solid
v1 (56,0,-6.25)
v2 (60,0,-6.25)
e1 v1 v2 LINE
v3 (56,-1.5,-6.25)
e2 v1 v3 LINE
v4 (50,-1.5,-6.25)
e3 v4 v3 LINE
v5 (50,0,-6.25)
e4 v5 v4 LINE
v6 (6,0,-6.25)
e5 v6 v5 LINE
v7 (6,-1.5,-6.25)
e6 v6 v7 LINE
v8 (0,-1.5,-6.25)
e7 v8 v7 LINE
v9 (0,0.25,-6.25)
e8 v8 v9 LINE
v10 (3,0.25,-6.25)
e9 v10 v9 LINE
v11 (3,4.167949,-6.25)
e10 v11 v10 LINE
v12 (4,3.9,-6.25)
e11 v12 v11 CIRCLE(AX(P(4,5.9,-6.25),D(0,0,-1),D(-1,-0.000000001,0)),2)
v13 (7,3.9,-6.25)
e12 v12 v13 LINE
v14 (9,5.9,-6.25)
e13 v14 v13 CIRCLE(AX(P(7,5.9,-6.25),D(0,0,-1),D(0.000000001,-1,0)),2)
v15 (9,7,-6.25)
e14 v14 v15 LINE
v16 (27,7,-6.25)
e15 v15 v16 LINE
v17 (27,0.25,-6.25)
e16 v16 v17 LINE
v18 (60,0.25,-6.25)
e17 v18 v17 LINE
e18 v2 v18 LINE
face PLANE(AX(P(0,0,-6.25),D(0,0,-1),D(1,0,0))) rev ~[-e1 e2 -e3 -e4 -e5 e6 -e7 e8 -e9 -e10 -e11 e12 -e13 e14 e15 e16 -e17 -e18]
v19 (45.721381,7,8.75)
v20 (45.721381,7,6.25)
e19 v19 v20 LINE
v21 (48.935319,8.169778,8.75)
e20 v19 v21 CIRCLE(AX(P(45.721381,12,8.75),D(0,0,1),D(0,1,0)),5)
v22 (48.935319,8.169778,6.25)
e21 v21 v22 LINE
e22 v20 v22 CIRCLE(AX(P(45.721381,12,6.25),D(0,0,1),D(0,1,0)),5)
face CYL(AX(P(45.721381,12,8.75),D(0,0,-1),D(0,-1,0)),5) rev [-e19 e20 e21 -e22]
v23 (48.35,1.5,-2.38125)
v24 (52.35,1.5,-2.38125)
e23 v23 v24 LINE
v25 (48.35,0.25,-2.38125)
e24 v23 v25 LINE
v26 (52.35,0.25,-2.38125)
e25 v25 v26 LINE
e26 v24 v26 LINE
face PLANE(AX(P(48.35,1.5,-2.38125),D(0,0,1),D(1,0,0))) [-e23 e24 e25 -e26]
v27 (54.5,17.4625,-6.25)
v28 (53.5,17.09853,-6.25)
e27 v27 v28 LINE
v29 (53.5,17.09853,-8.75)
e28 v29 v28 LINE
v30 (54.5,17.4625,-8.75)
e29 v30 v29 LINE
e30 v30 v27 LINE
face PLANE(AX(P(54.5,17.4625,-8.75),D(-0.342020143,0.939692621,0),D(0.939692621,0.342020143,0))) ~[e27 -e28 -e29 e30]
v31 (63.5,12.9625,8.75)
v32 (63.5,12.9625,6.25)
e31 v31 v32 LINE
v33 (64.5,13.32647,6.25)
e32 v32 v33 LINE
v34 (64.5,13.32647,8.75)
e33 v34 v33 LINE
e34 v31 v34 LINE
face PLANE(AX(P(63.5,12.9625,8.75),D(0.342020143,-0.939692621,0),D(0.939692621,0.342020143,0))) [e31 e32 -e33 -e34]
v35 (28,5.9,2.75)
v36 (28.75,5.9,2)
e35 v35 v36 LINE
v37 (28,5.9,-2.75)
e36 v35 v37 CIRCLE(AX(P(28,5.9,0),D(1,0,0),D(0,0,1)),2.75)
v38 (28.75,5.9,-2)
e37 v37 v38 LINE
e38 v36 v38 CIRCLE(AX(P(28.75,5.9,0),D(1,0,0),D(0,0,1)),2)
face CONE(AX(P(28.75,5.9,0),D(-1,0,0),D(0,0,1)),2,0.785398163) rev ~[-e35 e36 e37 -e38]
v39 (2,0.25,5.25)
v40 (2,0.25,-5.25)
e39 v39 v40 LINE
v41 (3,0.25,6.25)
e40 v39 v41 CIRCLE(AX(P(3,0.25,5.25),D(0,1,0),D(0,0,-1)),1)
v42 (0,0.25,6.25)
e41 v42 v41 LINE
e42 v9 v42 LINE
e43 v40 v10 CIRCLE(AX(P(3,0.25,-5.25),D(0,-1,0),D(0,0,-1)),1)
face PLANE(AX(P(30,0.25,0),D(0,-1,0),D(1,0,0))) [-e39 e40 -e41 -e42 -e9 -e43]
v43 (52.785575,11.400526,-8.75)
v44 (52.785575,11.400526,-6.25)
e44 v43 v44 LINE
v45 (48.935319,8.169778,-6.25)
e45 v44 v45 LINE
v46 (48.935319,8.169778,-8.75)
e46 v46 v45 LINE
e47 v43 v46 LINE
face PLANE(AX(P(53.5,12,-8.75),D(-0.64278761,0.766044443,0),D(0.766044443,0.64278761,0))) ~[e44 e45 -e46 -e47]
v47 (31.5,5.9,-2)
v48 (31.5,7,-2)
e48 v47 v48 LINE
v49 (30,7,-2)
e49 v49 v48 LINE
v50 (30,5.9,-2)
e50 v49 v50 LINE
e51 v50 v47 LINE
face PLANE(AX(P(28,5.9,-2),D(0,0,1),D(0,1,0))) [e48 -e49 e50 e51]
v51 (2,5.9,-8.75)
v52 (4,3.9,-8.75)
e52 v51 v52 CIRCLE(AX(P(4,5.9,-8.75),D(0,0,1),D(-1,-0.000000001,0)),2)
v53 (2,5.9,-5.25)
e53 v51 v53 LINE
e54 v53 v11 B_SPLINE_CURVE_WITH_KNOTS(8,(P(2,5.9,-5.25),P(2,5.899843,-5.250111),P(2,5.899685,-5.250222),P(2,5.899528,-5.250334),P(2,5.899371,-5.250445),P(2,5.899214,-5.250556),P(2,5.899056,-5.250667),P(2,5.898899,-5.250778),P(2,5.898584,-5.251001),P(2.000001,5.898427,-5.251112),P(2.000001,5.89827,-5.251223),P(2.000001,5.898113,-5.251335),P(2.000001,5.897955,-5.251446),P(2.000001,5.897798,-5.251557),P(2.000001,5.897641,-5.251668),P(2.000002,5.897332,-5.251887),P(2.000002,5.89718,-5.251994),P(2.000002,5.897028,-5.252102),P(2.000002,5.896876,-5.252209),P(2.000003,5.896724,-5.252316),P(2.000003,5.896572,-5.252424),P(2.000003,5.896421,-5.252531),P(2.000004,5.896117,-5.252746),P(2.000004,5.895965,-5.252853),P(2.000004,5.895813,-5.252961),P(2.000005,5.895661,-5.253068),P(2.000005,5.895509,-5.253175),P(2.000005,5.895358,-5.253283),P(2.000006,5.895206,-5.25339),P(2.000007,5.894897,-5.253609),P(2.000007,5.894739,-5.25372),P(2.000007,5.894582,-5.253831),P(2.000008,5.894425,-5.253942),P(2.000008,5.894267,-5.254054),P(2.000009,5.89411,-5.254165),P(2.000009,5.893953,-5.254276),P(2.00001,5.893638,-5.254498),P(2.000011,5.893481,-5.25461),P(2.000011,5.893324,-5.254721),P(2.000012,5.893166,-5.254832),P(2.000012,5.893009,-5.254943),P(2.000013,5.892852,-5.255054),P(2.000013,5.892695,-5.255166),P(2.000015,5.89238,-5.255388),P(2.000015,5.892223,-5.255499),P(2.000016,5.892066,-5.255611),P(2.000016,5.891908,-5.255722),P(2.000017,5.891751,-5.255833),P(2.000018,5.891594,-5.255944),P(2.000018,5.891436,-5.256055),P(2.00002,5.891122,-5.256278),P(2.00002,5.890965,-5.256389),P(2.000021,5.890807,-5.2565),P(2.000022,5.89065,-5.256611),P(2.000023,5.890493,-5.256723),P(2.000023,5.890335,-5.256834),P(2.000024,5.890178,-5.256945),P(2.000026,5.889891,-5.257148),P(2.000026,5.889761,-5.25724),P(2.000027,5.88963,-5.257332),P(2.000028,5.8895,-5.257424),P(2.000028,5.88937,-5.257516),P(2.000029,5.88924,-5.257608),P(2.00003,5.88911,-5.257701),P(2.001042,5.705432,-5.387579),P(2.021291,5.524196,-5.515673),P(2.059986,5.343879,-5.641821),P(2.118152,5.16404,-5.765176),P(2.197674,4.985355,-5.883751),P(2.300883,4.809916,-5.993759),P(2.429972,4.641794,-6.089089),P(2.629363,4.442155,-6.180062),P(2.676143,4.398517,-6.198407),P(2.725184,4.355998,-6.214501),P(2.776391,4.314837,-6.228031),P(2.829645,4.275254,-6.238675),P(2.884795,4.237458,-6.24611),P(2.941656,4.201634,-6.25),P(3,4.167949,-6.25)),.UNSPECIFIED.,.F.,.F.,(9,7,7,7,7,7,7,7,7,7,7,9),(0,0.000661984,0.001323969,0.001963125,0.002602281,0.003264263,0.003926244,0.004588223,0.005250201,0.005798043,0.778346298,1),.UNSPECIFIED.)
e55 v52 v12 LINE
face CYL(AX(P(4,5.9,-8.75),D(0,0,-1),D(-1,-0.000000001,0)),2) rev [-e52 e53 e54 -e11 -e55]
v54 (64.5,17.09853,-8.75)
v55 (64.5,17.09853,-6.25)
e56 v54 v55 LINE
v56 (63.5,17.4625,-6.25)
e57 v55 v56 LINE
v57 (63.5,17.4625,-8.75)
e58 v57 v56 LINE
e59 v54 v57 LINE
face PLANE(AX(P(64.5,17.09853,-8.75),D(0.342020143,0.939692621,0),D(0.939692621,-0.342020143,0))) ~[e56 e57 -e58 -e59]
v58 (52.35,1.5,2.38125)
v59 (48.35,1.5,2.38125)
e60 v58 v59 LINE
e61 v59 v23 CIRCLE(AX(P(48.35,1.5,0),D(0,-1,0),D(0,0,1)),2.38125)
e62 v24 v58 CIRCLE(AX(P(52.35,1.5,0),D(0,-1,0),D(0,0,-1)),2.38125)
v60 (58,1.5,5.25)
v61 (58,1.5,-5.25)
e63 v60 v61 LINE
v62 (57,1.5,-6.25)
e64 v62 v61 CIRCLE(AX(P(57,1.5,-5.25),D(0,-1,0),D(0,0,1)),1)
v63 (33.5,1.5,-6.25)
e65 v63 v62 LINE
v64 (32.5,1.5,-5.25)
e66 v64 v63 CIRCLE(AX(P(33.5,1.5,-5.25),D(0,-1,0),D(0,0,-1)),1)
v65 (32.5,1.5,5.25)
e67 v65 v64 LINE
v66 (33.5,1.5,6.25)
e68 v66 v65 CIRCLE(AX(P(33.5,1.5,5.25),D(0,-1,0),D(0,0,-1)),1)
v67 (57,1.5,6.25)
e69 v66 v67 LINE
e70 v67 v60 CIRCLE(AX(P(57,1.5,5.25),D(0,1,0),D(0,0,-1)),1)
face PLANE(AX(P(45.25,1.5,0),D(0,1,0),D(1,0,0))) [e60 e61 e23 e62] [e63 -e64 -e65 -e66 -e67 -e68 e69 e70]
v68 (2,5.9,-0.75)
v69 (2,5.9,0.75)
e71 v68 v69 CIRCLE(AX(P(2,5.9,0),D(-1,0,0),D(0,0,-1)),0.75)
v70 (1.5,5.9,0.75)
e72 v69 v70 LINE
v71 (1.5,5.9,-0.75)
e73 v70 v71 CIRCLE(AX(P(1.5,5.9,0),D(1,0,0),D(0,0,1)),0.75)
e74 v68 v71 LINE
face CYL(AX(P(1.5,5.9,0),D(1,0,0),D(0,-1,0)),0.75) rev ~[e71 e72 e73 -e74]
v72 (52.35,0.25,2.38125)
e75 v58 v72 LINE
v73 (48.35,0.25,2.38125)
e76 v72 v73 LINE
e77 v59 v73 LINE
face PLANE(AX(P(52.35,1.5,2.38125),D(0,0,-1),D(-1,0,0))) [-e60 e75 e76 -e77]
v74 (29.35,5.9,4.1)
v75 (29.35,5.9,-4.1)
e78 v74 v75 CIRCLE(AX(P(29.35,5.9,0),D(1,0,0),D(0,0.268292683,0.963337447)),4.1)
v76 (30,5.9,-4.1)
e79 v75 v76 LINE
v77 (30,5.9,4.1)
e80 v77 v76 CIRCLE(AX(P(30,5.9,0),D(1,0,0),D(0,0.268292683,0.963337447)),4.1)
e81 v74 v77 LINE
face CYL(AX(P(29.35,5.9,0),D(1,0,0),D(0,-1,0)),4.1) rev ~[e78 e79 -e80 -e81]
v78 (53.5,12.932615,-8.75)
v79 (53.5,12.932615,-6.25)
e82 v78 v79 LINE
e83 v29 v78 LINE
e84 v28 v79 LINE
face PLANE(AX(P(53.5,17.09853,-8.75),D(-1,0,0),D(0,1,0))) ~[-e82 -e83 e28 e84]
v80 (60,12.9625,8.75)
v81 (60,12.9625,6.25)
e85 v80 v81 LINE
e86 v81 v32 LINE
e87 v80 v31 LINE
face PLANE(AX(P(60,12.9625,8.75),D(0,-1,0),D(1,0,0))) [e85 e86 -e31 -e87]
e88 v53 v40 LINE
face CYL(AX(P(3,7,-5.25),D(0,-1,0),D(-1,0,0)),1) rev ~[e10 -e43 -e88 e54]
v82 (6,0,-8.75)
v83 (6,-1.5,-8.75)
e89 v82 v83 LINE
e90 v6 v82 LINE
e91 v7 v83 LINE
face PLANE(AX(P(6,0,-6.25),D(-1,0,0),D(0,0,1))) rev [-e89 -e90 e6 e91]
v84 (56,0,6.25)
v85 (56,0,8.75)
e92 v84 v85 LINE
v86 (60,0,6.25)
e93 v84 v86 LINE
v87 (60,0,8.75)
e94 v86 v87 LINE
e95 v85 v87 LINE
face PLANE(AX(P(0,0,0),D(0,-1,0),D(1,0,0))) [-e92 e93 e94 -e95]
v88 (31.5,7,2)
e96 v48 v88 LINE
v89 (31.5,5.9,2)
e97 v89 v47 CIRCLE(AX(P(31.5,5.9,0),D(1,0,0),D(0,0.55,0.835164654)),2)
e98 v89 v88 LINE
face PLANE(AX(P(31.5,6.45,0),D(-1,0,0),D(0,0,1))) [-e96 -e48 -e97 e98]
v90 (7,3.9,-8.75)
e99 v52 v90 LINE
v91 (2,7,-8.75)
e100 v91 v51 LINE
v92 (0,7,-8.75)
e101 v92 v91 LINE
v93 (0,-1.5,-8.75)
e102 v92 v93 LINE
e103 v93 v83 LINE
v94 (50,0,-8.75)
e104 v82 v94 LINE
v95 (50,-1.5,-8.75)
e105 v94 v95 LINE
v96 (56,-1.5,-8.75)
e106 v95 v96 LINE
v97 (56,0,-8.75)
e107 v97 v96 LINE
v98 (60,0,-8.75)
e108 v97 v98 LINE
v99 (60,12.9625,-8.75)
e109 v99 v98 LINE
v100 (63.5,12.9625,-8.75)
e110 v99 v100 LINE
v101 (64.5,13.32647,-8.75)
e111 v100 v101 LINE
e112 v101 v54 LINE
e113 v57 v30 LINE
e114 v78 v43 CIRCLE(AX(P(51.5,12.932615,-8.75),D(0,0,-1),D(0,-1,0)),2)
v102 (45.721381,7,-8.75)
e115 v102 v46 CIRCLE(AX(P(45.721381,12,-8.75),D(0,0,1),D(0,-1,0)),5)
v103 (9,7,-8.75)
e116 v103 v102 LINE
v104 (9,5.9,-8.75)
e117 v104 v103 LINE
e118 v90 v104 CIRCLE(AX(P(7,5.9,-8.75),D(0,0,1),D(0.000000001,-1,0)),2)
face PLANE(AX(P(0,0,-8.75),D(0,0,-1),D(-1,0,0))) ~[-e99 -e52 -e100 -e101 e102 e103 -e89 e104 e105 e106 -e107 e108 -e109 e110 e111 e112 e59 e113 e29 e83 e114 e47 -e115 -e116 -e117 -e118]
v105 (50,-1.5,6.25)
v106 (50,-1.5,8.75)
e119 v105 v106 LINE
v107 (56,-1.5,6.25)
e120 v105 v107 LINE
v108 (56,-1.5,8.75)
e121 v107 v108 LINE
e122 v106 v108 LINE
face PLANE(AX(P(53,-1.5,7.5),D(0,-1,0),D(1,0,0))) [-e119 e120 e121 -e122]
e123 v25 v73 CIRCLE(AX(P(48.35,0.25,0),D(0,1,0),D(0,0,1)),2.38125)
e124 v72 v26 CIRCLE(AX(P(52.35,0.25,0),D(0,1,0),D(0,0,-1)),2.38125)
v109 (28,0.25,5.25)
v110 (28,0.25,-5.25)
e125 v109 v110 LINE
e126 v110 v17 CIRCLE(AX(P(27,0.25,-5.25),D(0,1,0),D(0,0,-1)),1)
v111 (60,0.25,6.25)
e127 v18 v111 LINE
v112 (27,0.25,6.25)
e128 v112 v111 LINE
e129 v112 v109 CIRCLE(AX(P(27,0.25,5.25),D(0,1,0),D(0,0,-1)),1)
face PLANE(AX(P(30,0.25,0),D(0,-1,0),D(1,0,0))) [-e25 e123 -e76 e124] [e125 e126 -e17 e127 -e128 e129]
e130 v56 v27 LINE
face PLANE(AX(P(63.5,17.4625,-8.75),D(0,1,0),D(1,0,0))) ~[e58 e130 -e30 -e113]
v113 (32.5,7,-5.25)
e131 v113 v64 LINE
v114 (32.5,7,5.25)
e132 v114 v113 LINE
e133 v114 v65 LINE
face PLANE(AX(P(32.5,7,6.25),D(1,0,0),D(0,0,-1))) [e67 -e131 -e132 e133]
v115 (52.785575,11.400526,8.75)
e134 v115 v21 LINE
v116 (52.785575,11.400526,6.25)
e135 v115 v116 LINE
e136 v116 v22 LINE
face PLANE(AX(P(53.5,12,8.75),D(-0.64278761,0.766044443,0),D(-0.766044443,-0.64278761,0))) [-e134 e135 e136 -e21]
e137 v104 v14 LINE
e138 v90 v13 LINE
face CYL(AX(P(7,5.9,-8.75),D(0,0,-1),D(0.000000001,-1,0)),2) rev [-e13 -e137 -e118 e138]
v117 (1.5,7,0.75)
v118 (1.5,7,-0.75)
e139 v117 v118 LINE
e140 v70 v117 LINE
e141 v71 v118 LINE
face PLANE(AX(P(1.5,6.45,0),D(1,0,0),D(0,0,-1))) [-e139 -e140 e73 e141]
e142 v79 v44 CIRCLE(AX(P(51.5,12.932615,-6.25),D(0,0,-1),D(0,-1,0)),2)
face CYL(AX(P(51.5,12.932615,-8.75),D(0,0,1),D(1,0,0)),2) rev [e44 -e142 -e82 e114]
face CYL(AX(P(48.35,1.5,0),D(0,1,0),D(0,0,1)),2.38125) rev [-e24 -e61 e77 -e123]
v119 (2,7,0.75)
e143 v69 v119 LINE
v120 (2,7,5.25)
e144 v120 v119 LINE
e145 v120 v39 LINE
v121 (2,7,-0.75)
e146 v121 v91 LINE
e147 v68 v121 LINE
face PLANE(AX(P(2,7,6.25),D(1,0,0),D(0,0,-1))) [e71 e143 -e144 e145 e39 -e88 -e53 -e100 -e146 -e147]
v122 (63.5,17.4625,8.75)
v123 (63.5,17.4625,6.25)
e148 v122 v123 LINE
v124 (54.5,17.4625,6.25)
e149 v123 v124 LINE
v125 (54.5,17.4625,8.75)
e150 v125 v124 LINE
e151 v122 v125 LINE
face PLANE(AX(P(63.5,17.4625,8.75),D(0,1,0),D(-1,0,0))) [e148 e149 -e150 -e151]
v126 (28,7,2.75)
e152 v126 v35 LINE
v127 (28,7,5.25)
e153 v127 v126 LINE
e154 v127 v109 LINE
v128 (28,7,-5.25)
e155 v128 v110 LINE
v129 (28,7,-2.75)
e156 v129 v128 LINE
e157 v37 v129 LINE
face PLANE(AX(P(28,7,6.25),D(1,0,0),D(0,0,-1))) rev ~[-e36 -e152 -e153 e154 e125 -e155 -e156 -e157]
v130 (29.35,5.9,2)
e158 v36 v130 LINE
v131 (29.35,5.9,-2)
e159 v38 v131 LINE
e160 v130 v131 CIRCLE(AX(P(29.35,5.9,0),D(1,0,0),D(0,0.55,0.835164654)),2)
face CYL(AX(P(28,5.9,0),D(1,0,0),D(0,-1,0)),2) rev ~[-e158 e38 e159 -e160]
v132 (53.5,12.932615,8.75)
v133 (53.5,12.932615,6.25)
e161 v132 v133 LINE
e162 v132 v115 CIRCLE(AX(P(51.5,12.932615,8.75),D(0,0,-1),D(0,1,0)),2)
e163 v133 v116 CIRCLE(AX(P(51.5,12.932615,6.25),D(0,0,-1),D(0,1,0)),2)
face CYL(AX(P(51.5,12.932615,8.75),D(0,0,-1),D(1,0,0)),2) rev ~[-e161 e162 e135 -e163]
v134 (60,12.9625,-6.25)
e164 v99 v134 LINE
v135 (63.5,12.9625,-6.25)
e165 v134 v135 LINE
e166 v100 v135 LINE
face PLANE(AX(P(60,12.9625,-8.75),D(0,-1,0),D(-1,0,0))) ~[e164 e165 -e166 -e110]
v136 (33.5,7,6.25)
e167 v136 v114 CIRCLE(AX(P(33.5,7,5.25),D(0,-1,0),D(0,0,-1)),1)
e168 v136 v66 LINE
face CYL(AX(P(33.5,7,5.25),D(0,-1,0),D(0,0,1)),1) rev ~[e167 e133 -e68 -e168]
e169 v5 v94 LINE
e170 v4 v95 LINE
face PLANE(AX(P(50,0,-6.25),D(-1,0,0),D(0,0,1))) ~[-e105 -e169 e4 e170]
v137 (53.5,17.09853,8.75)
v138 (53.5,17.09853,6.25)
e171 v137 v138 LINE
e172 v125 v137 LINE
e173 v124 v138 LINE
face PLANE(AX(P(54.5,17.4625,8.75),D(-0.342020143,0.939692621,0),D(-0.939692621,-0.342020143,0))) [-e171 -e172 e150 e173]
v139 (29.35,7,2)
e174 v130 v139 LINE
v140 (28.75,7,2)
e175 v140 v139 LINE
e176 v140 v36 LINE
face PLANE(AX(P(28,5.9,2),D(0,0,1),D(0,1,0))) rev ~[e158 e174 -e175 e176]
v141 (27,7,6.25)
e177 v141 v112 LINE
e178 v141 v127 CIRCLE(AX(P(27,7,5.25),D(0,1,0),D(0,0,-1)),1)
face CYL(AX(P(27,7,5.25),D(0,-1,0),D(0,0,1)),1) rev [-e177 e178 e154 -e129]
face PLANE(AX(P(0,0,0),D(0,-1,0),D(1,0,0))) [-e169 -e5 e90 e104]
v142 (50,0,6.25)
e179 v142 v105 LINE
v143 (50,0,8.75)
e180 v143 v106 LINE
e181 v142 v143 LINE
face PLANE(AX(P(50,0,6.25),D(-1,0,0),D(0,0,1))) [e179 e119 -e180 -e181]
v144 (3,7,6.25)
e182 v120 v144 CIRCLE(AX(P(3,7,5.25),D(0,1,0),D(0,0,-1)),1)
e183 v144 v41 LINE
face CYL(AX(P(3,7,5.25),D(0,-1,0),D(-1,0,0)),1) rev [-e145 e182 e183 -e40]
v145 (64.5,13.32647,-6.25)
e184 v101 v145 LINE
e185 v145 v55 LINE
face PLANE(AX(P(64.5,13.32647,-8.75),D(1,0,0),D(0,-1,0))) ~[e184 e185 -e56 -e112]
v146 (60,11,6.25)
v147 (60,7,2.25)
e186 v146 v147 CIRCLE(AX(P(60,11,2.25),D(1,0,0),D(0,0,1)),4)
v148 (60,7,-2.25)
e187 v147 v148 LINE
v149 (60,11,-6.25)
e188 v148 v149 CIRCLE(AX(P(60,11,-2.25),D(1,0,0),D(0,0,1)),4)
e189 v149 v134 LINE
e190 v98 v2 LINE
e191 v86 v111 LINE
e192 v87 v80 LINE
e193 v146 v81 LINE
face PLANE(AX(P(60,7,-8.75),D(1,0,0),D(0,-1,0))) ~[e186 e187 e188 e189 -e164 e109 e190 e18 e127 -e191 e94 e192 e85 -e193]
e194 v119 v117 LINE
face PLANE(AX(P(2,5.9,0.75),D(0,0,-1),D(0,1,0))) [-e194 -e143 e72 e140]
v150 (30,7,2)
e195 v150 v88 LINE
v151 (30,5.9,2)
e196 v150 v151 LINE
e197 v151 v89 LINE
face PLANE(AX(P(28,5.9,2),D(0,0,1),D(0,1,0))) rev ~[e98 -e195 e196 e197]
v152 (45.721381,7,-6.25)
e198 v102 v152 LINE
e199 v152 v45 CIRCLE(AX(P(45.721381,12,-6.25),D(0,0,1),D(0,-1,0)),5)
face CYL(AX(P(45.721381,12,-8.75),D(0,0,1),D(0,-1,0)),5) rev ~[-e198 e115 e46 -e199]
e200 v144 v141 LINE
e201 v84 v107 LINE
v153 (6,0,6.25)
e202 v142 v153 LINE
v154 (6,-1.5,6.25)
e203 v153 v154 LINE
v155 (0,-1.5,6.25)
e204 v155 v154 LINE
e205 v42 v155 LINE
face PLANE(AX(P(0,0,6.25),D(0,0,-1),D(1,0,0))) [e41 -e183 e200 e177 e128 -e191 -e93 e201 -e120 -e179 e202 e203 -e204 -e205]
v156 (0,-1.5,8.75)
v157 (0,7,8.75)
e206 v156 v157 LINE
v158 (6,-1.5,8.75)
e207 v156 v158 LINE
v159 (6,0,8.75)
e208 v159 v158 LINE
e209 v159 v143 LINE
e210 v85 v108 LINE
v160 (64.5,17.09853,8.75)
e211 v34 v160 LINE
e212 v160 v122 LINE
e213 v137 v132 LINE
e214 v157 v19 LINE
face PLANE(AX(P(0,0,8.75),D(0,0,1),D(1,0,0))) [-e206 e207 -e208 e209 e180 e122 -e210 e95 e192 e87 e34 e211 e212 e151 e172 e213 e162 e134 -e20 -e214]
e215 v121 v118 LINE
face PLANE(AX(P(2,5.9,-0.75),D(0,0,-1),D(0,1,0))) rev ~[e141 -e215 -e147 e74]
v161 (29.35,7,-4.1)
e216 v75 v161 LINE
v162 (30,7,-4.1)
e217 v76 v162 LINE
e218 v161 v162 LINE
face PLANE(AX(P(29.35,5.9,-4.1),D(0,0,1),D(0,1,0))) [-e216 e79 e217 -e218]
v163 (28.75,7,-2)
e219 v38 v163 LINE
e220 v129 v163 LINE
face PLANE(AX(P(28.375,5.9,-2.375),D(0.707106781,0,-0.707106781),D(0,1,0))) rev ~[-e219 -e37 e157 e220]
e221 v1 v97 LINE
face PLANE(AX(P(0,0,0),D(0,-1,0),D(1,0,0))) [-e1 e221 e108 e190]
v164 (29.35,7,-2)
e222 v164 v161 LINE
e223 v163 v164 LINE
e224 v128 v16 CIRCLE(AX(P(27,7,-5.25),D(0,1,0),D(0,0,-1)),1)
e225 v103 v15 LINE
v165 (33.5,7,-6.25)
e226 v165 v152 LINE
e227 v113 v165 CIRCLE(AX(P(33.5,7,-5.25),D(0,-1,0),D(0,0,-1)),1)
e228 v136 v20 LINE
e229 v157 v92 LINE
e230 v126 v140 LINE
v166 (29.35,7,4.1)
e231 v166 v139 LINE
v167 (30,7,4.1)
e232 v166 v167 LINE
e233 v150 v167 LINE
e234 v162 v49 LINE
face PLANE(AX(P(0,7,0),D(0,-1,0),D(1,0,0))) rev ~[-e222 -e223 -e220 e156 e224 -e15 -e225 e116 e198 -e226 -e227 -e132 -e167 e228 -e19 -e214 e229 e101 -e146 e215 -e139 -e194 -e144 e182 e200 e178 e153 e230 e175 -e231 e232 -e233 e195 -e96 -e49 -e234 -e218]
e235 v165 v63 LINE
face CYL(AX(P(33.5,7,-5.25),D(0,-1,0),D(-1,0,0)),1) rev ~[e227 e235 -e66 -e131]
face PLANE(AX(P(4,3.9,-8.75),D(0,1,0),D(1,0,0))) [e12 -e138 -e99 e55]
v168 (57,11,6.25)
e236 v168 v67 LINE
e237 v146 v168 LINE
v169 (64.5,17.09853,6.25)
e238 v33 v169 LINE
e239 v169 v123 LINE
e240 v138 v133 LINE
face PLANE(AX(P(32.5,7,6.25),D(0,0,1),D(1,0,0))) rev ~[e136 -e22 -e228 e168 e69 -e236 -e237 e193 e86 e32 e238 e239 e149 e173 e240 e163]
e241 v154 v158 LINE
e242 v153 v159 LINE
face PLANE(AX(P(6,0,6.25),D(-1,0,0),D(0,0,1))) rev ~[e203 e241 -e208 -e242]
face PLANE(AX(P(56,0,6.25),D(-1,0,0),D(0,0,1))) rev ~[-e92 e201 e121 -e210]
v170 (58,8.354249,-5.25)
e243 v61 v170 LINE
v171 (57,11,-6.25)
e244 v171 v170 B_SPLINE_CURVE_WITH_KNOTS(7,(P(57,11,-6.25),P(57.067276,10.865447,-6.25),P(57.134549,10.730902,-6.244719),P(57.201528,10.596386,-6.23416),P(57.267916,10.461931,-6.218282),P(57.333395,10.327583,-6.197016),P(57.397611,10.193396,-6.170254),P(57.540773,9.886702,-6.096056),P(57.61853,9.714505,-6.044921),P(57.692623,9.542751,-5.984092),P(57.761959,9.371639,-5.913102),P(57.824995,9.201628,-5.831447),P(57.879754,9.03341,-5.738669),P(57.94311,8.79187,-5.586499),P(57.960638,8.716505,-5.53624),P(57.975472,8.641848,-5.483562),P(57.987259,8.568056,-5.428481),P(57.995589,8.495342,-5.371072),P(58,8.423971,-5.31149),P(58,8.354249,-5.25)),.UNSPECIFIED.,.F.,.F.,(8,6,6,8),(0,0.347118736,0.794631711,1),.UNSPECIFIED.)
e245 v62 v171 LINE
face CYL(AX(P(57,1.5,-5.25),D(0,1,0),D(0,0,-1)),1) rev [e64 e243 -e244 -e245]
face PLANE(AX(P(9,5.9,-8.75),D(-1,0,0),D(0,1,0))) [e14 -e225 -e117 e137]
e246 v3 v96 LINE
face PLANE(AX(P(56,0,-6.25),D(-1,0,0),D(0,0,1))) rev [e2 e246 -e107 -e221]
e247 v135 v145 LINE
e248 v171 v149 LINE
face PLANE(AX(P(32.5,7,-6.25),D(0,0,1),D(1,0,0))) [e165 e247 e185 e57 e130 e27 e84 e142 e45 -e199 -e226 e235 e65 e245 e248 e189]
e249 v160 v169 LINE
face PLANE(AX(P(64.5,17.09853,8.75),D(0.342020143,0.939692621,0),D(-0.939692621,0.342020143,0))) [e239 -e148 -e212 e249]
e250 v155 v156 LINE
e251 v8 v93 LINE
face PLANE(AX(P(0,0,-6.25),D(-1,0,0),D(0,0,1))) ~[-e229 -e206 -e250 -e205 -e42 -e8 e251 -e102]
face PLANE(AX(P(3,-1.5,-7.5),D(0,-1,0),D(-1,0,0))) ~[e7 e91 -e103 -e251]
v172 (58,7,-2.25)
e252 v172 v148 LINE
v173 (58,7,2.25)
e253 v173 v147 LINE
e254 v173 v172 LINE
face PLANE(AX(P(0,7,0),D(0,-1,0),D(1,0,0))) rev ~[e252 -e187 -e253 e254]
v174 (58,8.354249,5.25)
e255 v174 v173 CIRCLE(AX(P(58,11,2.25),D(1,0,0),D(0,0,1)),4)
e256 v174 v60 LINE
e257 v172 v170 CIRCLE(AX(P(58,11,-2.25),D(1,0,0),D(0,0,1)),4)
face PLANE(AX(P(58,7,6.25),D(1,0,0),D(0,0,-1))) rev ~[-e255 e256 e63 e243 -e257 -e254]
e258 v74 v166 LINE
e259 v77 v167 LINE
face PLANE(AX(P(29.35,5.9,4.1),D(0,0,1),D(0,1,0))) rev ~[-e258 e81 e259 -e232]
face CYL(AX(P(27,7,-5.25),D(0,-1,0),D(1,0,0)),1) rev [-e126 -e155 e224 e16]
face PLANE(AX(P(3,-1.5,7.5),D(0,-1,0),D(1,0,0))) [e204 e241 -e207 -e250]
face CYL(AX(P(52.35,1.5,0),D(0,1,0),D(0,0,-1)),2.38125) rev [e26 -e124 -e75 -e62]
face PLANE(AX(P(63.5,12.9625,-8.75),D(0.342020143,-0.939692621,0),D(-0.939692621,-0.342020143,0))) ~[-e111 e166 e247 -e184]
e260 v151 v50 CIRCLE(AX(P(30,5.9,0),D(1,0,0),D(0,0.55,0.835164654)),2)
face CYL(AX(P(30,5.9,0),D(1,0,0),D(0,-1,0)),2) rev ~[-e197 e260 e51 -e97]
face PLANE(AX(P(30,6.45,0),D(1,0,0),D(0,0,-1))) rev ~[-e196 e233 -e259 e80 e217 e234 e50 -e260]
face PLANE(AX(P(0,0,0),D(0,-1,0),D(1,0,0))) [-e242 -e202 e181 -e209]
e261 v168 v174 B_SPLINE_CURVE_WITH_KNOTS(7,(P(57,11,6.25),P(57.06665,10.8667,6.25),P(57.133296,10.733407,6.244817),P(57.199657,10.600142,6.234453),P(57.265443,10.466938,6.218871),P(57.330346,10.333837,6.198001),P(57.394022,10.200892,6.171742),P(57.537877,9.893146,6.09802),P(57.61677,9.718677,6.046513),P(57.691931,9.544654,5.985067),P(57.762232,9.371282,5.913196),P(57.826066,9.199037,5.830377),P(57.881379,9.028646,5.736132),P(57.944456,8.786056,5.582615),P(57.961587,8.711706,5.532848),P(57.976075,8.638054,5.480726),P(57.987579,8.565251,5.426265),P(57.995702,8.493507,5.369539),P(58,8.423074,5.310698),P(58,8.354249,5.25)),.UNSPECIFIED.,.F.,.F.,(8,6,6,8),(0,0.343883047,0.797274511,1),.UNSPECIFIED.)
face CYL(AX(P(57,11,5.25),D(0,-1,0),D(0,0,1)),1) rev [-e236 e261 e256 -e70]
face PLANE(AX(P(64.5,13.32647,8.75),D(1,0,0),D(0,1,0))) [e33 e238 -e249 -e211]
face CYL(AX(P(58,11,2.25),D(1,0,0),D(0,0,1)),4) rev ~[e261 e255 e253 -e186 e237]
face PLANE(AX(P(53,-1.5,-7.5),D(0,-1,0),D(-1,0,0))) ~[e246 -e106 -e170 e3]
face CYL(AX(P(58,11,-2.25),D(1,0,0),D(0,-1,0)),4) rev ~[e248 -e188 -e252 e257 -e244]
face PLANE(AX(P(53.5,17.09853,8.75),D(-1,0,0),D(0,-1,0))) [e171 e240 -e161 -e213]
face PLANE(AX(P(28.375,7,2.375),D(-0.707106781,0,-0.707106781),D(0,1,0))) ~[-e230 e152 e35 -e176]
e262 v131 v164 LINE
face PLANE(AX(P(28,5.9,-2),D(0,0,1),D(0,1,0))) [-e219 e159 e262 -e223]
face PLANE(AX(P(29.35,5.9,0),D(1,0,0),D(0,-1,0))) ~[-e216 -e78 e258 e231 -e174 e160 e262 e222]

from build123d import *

# Parameters (mm, degrees)
SKETCH1_W           = 60
SKETCH1_H           = 7
BOSS_EXTRUDE1_DEPTH = 8.75
SKETCH2_W           = 26
SKETCH2_H           = 12.5
CUT_EXTRUDE1_DEPTH  = 8
SKETCH4_W           = 4
SKETCH4_H           = 1.1
CUT_EXTRUDE2_DEPTH  = 3.5
SKETCH5_W           = 8.2
SKETCH5_H           = 1.1
CUT_EXTRUDE4_DEPTH  = 0.65
SKETCH6_W           = 1.5
SKETCH6_H           = 1.1
CUT_EXTRUDE5_DEPTH  = 0.5
BOSS_EXTRUDE2_DEPTH = 2.5
SKETCH9_W           = 6
SKETCH9_H           = 2.5
BOSS_EXTRUDE4_DEPTH = 1.5
SKETCH10_W          = 25.5
SKETCH10_H          = 12.5
CUT_EXTRUDE6_DEPTH  = 5.5
CUT_EXTRUDE7_DEPTH  = 4
SKETCH12_W          = 60
SKETCH12_H          = 12.5
CUT_EXTRUDE8_DEPTH  = 0.25
FILLET1_R           = 4
FILLET2_R           = 5
FILLET3_R           = 1
CUT_EXTRUDE9_DEPTH  = 10
FILLET4_R           = 2
CHAMFER1_SIZE       = 0.75


with BuildPart() as part:
    # Sketch1 → Boss-Extrude1 (new body, symmetric)
    with BuildSketch(Plane.XY):
        with Locations((30, 3.5)):
            Rectangle(SKETCH1_W, SKETCH1_H)
    extrude(amount=BOSS_EXTRUDE1_DEPTH, both=True)

    # Sketch2 → Cut-Extrude1 (cut, through all)
    with BuildSketch(Plane(origin=(0, 7, 0), x_dir=(1, 0, 0), z_dir=(0, 1, 0))):
        with Locations((15, 0)):
            Rectangle(SKETCH2_W, SKETCH2_H)
    extrude(amount=-CUT_EXTRUDE1_DEPTH, mode=Mode.SUBTRACT)

    # Sketch3 → Cut-Revolve5 (revolve, cut)
    with BuildSketch(Plane.XY):
        Polygon((1.5, 5.9), (1.5, 5.15), (28, 5.15), (28, 3.9), (29.35, 3.9), (29.35, 1.8), (30, 1.8), (30, 3.9), (31.5, 3.9), (31.5, 5.9), align=None)
    revolve(axis=Axis((0, 5.9, 0), (1, 0, 0)), mode=Mode.SUBTRACT)

    # Sketch4 → Cut-Extrude2 (cut)
    with BuildSketch(Plane.ZY.offset(-28)):
        with Locations((0, 6.45)):
            Rectangle(SKETCH4_W, SKETCH4_H)
    extrude(amount=-CUT_EXTRUDE2_DEPTH, mode=Mode.SUBTRACT)

    # Sketch5 → Cut-Extrude4 (cut)
    with BuildSketch(Plane(origin=(29.35, 0, 0), x_dir=(0, 0, -1), z_dir=(1, 0, 0))):
        with Locations((0, 6.45)):
            Rectangle(SKETCH5_W, SKETCH5_H)
    extrude(amount=CUT_EXTRUDE4_DEPTH, mode=Mode.SUBTRACT)

    # Sketch6 → Cut-Extrude5 (cut)
    with BuildSketch(Plane(origin=(2, 0, 0), x_dir=(0, 0, -1), z_dir=(1, 0, 0))):
        with Locations((0, 6.45)):
            Rectangle(SKETCH6_W, SKETCH6_H)
    extrude(amount=-CUT_EXTRUDE5_DEPTH, mode=Mode.SUBTRACT)

    # Sketch7 → Boss-Extrude2 (add)
    with BuildSketch(Plane.XY.offset(8.75)):
        Polygon((54.5, 17.4625), (53.5, 17.098529766), (53.5, 12), (47.541232037, 7), (60, 7), (60, 12.9625), (63.5, 12.9625), (64.5, 13.326470234), (64.5, 17.098529766), (63.5, 17.4625), align=None)
    boss_extrude2 = extrude(amount=-BOSS_EXTRUDE2_DEPTH)

    # Sketch9 → Boss-Extrude4 (add)
    with BuildSketch(Plane.XZ):
        with Locations((3, 7.5)):
            Rectangle(SKETCH9_W, SKETCH9_H)
        with Locations((53, 7.5)):
            Rectangle(SKETCH9_W, SKETCH9_H)
    boss_extrude4 = extrude(amount=BOSS_EXTRUDE4_DEPTH)

    # Mirror1: Boss-Extrude2, Boss-Extrude4 across plane
    add(boss_extrude2.mirror(Plane.XY))
    add(boss_extrude4.mirror(Plane.XY))

    # Sketch10 → Cut-Extrude6 (cut)
    with BuildSketch(Plane(origin=(0, 7, 0), x_dir=(1, 0, 0), z_dir=(0, 1, 0))):
        with Locations((45.25, 0)):
            Rectangle(SKETCH10_W, SKETCH10_H)
    extrude(amount=-CUT_EXTRUDE6_DEPTH, mode=Mode.SUBTRACT)

    # Sketch11 → Cut-Extrude7 (cut, through all)
    with BuildSketch(Plane(origin=(0, 1.5, 0), x_dir=(1, 0, 0), z_dir=(0, 1, 0))):
        with BuildLine():
            Line((52.35, -2.38125), (48.35, -2.38125))
            ThreePointArc((48.35, -2.38125), (45.96875, 0), (48.35, 2.38125))
            Line((48.35, 2.38125), (52.35, 2.38125))
            ThreePointArc((52.35, 2.38125), (54.73125, 0), (52.35, -2.38125))
        make_face()
    extrude(amount=-CUT_EXTRUDE7_DEPTH, mode=Mode.SUBTRACT)

    # Sketch12 → Cut-Extrude8 (cut)
    with BuildSketch(Plane.XZ):
        with Locations((30, 0)):
            Rectangle(SKETCH12_W, SKETCH12_H)
    extrude(amount=-CUT_EXTRUDE8_DEPTH, mode=Mode.SUBTRACT)

    # Fillet1
    fillet1_edges = [part.edges().sort_by_distance(p)[0] for p in [
        (59, 7, -6.25),
        (59, 7, 6.25),
    ]]
    fillet(fillet1_edges, radius=FILLET1_R)

    # Fillet2
    fillet2_edges = [part.edges().sort_by_distance(p)[0] for p in [
        (47.541232037, 7, 7.5),
        (47.541232037, 7, -7.5),
    ]]
    fillet(fillet2_edges, radius=FILLET2_R)

    # Fillet3
    fillet3_edges = [part.edges().sort_by_distance(p)[0] for p in [
        (58, 4.25, -6.25),
        (58, 4.25, 6.25),
        (32.5, 4.25, 6.25),
        (32.5, 4.25, -6.25),
        (28, 3.625, 6.25),
        (2, 3.625, 6.25),
        (28, 3.625, -6.25),
        (2, 3.625, -6.25),
    ]]
    fillet(fillet3_edges, radius=FILLET3_R)

    # Sketch13 → Cut-Extrude9 (cut)
    with BuildSketch(Plane(origin=(0, 0, -8.75), x_dir=(-1, 0, 0), z_dir=(0, 0, -1))):
        with BuildLine():
            Line((-2, 7), (-2, 5.9))
            ThreePointArc((-2, 5.9), (-2.585786438, 4.485786438), (-4, 3.9))
            Line((-4, 3.9), (-7, 3.9))
            ThreePointArc((-7, 3.9), (-8.414213562, 4.485786438), (-9, 5.9))
            Line((-9, 5.9), (-9, 7))
            Line((-9, 7), (-2, 7))
        make_face()
    extrude(amount=-CUT_EXTRUDE9_DEPTH, mode=Mode.SUBTRACT)

    # Fillet4
    fillet4_edges = [part.edges().sort_by_distance(p)[0] for p in [
        (53.5, 12, -7.5),
        (53.5, 12, 7.5),
    ]]
    fillet(fillet4_edges, radius=FILLET4_R)

    # Chamfer1
    chamfer1_edges = [part.edges().sort_by_distance(p)[0] for p in [
        (28, 3.9, 0),
        (28, 6.45, 2),
        (28, 6.45, -2),
    ]]
    chamfer(chamfer1_edges, length=CHAMFER1_SIZE)


solid = part.part
